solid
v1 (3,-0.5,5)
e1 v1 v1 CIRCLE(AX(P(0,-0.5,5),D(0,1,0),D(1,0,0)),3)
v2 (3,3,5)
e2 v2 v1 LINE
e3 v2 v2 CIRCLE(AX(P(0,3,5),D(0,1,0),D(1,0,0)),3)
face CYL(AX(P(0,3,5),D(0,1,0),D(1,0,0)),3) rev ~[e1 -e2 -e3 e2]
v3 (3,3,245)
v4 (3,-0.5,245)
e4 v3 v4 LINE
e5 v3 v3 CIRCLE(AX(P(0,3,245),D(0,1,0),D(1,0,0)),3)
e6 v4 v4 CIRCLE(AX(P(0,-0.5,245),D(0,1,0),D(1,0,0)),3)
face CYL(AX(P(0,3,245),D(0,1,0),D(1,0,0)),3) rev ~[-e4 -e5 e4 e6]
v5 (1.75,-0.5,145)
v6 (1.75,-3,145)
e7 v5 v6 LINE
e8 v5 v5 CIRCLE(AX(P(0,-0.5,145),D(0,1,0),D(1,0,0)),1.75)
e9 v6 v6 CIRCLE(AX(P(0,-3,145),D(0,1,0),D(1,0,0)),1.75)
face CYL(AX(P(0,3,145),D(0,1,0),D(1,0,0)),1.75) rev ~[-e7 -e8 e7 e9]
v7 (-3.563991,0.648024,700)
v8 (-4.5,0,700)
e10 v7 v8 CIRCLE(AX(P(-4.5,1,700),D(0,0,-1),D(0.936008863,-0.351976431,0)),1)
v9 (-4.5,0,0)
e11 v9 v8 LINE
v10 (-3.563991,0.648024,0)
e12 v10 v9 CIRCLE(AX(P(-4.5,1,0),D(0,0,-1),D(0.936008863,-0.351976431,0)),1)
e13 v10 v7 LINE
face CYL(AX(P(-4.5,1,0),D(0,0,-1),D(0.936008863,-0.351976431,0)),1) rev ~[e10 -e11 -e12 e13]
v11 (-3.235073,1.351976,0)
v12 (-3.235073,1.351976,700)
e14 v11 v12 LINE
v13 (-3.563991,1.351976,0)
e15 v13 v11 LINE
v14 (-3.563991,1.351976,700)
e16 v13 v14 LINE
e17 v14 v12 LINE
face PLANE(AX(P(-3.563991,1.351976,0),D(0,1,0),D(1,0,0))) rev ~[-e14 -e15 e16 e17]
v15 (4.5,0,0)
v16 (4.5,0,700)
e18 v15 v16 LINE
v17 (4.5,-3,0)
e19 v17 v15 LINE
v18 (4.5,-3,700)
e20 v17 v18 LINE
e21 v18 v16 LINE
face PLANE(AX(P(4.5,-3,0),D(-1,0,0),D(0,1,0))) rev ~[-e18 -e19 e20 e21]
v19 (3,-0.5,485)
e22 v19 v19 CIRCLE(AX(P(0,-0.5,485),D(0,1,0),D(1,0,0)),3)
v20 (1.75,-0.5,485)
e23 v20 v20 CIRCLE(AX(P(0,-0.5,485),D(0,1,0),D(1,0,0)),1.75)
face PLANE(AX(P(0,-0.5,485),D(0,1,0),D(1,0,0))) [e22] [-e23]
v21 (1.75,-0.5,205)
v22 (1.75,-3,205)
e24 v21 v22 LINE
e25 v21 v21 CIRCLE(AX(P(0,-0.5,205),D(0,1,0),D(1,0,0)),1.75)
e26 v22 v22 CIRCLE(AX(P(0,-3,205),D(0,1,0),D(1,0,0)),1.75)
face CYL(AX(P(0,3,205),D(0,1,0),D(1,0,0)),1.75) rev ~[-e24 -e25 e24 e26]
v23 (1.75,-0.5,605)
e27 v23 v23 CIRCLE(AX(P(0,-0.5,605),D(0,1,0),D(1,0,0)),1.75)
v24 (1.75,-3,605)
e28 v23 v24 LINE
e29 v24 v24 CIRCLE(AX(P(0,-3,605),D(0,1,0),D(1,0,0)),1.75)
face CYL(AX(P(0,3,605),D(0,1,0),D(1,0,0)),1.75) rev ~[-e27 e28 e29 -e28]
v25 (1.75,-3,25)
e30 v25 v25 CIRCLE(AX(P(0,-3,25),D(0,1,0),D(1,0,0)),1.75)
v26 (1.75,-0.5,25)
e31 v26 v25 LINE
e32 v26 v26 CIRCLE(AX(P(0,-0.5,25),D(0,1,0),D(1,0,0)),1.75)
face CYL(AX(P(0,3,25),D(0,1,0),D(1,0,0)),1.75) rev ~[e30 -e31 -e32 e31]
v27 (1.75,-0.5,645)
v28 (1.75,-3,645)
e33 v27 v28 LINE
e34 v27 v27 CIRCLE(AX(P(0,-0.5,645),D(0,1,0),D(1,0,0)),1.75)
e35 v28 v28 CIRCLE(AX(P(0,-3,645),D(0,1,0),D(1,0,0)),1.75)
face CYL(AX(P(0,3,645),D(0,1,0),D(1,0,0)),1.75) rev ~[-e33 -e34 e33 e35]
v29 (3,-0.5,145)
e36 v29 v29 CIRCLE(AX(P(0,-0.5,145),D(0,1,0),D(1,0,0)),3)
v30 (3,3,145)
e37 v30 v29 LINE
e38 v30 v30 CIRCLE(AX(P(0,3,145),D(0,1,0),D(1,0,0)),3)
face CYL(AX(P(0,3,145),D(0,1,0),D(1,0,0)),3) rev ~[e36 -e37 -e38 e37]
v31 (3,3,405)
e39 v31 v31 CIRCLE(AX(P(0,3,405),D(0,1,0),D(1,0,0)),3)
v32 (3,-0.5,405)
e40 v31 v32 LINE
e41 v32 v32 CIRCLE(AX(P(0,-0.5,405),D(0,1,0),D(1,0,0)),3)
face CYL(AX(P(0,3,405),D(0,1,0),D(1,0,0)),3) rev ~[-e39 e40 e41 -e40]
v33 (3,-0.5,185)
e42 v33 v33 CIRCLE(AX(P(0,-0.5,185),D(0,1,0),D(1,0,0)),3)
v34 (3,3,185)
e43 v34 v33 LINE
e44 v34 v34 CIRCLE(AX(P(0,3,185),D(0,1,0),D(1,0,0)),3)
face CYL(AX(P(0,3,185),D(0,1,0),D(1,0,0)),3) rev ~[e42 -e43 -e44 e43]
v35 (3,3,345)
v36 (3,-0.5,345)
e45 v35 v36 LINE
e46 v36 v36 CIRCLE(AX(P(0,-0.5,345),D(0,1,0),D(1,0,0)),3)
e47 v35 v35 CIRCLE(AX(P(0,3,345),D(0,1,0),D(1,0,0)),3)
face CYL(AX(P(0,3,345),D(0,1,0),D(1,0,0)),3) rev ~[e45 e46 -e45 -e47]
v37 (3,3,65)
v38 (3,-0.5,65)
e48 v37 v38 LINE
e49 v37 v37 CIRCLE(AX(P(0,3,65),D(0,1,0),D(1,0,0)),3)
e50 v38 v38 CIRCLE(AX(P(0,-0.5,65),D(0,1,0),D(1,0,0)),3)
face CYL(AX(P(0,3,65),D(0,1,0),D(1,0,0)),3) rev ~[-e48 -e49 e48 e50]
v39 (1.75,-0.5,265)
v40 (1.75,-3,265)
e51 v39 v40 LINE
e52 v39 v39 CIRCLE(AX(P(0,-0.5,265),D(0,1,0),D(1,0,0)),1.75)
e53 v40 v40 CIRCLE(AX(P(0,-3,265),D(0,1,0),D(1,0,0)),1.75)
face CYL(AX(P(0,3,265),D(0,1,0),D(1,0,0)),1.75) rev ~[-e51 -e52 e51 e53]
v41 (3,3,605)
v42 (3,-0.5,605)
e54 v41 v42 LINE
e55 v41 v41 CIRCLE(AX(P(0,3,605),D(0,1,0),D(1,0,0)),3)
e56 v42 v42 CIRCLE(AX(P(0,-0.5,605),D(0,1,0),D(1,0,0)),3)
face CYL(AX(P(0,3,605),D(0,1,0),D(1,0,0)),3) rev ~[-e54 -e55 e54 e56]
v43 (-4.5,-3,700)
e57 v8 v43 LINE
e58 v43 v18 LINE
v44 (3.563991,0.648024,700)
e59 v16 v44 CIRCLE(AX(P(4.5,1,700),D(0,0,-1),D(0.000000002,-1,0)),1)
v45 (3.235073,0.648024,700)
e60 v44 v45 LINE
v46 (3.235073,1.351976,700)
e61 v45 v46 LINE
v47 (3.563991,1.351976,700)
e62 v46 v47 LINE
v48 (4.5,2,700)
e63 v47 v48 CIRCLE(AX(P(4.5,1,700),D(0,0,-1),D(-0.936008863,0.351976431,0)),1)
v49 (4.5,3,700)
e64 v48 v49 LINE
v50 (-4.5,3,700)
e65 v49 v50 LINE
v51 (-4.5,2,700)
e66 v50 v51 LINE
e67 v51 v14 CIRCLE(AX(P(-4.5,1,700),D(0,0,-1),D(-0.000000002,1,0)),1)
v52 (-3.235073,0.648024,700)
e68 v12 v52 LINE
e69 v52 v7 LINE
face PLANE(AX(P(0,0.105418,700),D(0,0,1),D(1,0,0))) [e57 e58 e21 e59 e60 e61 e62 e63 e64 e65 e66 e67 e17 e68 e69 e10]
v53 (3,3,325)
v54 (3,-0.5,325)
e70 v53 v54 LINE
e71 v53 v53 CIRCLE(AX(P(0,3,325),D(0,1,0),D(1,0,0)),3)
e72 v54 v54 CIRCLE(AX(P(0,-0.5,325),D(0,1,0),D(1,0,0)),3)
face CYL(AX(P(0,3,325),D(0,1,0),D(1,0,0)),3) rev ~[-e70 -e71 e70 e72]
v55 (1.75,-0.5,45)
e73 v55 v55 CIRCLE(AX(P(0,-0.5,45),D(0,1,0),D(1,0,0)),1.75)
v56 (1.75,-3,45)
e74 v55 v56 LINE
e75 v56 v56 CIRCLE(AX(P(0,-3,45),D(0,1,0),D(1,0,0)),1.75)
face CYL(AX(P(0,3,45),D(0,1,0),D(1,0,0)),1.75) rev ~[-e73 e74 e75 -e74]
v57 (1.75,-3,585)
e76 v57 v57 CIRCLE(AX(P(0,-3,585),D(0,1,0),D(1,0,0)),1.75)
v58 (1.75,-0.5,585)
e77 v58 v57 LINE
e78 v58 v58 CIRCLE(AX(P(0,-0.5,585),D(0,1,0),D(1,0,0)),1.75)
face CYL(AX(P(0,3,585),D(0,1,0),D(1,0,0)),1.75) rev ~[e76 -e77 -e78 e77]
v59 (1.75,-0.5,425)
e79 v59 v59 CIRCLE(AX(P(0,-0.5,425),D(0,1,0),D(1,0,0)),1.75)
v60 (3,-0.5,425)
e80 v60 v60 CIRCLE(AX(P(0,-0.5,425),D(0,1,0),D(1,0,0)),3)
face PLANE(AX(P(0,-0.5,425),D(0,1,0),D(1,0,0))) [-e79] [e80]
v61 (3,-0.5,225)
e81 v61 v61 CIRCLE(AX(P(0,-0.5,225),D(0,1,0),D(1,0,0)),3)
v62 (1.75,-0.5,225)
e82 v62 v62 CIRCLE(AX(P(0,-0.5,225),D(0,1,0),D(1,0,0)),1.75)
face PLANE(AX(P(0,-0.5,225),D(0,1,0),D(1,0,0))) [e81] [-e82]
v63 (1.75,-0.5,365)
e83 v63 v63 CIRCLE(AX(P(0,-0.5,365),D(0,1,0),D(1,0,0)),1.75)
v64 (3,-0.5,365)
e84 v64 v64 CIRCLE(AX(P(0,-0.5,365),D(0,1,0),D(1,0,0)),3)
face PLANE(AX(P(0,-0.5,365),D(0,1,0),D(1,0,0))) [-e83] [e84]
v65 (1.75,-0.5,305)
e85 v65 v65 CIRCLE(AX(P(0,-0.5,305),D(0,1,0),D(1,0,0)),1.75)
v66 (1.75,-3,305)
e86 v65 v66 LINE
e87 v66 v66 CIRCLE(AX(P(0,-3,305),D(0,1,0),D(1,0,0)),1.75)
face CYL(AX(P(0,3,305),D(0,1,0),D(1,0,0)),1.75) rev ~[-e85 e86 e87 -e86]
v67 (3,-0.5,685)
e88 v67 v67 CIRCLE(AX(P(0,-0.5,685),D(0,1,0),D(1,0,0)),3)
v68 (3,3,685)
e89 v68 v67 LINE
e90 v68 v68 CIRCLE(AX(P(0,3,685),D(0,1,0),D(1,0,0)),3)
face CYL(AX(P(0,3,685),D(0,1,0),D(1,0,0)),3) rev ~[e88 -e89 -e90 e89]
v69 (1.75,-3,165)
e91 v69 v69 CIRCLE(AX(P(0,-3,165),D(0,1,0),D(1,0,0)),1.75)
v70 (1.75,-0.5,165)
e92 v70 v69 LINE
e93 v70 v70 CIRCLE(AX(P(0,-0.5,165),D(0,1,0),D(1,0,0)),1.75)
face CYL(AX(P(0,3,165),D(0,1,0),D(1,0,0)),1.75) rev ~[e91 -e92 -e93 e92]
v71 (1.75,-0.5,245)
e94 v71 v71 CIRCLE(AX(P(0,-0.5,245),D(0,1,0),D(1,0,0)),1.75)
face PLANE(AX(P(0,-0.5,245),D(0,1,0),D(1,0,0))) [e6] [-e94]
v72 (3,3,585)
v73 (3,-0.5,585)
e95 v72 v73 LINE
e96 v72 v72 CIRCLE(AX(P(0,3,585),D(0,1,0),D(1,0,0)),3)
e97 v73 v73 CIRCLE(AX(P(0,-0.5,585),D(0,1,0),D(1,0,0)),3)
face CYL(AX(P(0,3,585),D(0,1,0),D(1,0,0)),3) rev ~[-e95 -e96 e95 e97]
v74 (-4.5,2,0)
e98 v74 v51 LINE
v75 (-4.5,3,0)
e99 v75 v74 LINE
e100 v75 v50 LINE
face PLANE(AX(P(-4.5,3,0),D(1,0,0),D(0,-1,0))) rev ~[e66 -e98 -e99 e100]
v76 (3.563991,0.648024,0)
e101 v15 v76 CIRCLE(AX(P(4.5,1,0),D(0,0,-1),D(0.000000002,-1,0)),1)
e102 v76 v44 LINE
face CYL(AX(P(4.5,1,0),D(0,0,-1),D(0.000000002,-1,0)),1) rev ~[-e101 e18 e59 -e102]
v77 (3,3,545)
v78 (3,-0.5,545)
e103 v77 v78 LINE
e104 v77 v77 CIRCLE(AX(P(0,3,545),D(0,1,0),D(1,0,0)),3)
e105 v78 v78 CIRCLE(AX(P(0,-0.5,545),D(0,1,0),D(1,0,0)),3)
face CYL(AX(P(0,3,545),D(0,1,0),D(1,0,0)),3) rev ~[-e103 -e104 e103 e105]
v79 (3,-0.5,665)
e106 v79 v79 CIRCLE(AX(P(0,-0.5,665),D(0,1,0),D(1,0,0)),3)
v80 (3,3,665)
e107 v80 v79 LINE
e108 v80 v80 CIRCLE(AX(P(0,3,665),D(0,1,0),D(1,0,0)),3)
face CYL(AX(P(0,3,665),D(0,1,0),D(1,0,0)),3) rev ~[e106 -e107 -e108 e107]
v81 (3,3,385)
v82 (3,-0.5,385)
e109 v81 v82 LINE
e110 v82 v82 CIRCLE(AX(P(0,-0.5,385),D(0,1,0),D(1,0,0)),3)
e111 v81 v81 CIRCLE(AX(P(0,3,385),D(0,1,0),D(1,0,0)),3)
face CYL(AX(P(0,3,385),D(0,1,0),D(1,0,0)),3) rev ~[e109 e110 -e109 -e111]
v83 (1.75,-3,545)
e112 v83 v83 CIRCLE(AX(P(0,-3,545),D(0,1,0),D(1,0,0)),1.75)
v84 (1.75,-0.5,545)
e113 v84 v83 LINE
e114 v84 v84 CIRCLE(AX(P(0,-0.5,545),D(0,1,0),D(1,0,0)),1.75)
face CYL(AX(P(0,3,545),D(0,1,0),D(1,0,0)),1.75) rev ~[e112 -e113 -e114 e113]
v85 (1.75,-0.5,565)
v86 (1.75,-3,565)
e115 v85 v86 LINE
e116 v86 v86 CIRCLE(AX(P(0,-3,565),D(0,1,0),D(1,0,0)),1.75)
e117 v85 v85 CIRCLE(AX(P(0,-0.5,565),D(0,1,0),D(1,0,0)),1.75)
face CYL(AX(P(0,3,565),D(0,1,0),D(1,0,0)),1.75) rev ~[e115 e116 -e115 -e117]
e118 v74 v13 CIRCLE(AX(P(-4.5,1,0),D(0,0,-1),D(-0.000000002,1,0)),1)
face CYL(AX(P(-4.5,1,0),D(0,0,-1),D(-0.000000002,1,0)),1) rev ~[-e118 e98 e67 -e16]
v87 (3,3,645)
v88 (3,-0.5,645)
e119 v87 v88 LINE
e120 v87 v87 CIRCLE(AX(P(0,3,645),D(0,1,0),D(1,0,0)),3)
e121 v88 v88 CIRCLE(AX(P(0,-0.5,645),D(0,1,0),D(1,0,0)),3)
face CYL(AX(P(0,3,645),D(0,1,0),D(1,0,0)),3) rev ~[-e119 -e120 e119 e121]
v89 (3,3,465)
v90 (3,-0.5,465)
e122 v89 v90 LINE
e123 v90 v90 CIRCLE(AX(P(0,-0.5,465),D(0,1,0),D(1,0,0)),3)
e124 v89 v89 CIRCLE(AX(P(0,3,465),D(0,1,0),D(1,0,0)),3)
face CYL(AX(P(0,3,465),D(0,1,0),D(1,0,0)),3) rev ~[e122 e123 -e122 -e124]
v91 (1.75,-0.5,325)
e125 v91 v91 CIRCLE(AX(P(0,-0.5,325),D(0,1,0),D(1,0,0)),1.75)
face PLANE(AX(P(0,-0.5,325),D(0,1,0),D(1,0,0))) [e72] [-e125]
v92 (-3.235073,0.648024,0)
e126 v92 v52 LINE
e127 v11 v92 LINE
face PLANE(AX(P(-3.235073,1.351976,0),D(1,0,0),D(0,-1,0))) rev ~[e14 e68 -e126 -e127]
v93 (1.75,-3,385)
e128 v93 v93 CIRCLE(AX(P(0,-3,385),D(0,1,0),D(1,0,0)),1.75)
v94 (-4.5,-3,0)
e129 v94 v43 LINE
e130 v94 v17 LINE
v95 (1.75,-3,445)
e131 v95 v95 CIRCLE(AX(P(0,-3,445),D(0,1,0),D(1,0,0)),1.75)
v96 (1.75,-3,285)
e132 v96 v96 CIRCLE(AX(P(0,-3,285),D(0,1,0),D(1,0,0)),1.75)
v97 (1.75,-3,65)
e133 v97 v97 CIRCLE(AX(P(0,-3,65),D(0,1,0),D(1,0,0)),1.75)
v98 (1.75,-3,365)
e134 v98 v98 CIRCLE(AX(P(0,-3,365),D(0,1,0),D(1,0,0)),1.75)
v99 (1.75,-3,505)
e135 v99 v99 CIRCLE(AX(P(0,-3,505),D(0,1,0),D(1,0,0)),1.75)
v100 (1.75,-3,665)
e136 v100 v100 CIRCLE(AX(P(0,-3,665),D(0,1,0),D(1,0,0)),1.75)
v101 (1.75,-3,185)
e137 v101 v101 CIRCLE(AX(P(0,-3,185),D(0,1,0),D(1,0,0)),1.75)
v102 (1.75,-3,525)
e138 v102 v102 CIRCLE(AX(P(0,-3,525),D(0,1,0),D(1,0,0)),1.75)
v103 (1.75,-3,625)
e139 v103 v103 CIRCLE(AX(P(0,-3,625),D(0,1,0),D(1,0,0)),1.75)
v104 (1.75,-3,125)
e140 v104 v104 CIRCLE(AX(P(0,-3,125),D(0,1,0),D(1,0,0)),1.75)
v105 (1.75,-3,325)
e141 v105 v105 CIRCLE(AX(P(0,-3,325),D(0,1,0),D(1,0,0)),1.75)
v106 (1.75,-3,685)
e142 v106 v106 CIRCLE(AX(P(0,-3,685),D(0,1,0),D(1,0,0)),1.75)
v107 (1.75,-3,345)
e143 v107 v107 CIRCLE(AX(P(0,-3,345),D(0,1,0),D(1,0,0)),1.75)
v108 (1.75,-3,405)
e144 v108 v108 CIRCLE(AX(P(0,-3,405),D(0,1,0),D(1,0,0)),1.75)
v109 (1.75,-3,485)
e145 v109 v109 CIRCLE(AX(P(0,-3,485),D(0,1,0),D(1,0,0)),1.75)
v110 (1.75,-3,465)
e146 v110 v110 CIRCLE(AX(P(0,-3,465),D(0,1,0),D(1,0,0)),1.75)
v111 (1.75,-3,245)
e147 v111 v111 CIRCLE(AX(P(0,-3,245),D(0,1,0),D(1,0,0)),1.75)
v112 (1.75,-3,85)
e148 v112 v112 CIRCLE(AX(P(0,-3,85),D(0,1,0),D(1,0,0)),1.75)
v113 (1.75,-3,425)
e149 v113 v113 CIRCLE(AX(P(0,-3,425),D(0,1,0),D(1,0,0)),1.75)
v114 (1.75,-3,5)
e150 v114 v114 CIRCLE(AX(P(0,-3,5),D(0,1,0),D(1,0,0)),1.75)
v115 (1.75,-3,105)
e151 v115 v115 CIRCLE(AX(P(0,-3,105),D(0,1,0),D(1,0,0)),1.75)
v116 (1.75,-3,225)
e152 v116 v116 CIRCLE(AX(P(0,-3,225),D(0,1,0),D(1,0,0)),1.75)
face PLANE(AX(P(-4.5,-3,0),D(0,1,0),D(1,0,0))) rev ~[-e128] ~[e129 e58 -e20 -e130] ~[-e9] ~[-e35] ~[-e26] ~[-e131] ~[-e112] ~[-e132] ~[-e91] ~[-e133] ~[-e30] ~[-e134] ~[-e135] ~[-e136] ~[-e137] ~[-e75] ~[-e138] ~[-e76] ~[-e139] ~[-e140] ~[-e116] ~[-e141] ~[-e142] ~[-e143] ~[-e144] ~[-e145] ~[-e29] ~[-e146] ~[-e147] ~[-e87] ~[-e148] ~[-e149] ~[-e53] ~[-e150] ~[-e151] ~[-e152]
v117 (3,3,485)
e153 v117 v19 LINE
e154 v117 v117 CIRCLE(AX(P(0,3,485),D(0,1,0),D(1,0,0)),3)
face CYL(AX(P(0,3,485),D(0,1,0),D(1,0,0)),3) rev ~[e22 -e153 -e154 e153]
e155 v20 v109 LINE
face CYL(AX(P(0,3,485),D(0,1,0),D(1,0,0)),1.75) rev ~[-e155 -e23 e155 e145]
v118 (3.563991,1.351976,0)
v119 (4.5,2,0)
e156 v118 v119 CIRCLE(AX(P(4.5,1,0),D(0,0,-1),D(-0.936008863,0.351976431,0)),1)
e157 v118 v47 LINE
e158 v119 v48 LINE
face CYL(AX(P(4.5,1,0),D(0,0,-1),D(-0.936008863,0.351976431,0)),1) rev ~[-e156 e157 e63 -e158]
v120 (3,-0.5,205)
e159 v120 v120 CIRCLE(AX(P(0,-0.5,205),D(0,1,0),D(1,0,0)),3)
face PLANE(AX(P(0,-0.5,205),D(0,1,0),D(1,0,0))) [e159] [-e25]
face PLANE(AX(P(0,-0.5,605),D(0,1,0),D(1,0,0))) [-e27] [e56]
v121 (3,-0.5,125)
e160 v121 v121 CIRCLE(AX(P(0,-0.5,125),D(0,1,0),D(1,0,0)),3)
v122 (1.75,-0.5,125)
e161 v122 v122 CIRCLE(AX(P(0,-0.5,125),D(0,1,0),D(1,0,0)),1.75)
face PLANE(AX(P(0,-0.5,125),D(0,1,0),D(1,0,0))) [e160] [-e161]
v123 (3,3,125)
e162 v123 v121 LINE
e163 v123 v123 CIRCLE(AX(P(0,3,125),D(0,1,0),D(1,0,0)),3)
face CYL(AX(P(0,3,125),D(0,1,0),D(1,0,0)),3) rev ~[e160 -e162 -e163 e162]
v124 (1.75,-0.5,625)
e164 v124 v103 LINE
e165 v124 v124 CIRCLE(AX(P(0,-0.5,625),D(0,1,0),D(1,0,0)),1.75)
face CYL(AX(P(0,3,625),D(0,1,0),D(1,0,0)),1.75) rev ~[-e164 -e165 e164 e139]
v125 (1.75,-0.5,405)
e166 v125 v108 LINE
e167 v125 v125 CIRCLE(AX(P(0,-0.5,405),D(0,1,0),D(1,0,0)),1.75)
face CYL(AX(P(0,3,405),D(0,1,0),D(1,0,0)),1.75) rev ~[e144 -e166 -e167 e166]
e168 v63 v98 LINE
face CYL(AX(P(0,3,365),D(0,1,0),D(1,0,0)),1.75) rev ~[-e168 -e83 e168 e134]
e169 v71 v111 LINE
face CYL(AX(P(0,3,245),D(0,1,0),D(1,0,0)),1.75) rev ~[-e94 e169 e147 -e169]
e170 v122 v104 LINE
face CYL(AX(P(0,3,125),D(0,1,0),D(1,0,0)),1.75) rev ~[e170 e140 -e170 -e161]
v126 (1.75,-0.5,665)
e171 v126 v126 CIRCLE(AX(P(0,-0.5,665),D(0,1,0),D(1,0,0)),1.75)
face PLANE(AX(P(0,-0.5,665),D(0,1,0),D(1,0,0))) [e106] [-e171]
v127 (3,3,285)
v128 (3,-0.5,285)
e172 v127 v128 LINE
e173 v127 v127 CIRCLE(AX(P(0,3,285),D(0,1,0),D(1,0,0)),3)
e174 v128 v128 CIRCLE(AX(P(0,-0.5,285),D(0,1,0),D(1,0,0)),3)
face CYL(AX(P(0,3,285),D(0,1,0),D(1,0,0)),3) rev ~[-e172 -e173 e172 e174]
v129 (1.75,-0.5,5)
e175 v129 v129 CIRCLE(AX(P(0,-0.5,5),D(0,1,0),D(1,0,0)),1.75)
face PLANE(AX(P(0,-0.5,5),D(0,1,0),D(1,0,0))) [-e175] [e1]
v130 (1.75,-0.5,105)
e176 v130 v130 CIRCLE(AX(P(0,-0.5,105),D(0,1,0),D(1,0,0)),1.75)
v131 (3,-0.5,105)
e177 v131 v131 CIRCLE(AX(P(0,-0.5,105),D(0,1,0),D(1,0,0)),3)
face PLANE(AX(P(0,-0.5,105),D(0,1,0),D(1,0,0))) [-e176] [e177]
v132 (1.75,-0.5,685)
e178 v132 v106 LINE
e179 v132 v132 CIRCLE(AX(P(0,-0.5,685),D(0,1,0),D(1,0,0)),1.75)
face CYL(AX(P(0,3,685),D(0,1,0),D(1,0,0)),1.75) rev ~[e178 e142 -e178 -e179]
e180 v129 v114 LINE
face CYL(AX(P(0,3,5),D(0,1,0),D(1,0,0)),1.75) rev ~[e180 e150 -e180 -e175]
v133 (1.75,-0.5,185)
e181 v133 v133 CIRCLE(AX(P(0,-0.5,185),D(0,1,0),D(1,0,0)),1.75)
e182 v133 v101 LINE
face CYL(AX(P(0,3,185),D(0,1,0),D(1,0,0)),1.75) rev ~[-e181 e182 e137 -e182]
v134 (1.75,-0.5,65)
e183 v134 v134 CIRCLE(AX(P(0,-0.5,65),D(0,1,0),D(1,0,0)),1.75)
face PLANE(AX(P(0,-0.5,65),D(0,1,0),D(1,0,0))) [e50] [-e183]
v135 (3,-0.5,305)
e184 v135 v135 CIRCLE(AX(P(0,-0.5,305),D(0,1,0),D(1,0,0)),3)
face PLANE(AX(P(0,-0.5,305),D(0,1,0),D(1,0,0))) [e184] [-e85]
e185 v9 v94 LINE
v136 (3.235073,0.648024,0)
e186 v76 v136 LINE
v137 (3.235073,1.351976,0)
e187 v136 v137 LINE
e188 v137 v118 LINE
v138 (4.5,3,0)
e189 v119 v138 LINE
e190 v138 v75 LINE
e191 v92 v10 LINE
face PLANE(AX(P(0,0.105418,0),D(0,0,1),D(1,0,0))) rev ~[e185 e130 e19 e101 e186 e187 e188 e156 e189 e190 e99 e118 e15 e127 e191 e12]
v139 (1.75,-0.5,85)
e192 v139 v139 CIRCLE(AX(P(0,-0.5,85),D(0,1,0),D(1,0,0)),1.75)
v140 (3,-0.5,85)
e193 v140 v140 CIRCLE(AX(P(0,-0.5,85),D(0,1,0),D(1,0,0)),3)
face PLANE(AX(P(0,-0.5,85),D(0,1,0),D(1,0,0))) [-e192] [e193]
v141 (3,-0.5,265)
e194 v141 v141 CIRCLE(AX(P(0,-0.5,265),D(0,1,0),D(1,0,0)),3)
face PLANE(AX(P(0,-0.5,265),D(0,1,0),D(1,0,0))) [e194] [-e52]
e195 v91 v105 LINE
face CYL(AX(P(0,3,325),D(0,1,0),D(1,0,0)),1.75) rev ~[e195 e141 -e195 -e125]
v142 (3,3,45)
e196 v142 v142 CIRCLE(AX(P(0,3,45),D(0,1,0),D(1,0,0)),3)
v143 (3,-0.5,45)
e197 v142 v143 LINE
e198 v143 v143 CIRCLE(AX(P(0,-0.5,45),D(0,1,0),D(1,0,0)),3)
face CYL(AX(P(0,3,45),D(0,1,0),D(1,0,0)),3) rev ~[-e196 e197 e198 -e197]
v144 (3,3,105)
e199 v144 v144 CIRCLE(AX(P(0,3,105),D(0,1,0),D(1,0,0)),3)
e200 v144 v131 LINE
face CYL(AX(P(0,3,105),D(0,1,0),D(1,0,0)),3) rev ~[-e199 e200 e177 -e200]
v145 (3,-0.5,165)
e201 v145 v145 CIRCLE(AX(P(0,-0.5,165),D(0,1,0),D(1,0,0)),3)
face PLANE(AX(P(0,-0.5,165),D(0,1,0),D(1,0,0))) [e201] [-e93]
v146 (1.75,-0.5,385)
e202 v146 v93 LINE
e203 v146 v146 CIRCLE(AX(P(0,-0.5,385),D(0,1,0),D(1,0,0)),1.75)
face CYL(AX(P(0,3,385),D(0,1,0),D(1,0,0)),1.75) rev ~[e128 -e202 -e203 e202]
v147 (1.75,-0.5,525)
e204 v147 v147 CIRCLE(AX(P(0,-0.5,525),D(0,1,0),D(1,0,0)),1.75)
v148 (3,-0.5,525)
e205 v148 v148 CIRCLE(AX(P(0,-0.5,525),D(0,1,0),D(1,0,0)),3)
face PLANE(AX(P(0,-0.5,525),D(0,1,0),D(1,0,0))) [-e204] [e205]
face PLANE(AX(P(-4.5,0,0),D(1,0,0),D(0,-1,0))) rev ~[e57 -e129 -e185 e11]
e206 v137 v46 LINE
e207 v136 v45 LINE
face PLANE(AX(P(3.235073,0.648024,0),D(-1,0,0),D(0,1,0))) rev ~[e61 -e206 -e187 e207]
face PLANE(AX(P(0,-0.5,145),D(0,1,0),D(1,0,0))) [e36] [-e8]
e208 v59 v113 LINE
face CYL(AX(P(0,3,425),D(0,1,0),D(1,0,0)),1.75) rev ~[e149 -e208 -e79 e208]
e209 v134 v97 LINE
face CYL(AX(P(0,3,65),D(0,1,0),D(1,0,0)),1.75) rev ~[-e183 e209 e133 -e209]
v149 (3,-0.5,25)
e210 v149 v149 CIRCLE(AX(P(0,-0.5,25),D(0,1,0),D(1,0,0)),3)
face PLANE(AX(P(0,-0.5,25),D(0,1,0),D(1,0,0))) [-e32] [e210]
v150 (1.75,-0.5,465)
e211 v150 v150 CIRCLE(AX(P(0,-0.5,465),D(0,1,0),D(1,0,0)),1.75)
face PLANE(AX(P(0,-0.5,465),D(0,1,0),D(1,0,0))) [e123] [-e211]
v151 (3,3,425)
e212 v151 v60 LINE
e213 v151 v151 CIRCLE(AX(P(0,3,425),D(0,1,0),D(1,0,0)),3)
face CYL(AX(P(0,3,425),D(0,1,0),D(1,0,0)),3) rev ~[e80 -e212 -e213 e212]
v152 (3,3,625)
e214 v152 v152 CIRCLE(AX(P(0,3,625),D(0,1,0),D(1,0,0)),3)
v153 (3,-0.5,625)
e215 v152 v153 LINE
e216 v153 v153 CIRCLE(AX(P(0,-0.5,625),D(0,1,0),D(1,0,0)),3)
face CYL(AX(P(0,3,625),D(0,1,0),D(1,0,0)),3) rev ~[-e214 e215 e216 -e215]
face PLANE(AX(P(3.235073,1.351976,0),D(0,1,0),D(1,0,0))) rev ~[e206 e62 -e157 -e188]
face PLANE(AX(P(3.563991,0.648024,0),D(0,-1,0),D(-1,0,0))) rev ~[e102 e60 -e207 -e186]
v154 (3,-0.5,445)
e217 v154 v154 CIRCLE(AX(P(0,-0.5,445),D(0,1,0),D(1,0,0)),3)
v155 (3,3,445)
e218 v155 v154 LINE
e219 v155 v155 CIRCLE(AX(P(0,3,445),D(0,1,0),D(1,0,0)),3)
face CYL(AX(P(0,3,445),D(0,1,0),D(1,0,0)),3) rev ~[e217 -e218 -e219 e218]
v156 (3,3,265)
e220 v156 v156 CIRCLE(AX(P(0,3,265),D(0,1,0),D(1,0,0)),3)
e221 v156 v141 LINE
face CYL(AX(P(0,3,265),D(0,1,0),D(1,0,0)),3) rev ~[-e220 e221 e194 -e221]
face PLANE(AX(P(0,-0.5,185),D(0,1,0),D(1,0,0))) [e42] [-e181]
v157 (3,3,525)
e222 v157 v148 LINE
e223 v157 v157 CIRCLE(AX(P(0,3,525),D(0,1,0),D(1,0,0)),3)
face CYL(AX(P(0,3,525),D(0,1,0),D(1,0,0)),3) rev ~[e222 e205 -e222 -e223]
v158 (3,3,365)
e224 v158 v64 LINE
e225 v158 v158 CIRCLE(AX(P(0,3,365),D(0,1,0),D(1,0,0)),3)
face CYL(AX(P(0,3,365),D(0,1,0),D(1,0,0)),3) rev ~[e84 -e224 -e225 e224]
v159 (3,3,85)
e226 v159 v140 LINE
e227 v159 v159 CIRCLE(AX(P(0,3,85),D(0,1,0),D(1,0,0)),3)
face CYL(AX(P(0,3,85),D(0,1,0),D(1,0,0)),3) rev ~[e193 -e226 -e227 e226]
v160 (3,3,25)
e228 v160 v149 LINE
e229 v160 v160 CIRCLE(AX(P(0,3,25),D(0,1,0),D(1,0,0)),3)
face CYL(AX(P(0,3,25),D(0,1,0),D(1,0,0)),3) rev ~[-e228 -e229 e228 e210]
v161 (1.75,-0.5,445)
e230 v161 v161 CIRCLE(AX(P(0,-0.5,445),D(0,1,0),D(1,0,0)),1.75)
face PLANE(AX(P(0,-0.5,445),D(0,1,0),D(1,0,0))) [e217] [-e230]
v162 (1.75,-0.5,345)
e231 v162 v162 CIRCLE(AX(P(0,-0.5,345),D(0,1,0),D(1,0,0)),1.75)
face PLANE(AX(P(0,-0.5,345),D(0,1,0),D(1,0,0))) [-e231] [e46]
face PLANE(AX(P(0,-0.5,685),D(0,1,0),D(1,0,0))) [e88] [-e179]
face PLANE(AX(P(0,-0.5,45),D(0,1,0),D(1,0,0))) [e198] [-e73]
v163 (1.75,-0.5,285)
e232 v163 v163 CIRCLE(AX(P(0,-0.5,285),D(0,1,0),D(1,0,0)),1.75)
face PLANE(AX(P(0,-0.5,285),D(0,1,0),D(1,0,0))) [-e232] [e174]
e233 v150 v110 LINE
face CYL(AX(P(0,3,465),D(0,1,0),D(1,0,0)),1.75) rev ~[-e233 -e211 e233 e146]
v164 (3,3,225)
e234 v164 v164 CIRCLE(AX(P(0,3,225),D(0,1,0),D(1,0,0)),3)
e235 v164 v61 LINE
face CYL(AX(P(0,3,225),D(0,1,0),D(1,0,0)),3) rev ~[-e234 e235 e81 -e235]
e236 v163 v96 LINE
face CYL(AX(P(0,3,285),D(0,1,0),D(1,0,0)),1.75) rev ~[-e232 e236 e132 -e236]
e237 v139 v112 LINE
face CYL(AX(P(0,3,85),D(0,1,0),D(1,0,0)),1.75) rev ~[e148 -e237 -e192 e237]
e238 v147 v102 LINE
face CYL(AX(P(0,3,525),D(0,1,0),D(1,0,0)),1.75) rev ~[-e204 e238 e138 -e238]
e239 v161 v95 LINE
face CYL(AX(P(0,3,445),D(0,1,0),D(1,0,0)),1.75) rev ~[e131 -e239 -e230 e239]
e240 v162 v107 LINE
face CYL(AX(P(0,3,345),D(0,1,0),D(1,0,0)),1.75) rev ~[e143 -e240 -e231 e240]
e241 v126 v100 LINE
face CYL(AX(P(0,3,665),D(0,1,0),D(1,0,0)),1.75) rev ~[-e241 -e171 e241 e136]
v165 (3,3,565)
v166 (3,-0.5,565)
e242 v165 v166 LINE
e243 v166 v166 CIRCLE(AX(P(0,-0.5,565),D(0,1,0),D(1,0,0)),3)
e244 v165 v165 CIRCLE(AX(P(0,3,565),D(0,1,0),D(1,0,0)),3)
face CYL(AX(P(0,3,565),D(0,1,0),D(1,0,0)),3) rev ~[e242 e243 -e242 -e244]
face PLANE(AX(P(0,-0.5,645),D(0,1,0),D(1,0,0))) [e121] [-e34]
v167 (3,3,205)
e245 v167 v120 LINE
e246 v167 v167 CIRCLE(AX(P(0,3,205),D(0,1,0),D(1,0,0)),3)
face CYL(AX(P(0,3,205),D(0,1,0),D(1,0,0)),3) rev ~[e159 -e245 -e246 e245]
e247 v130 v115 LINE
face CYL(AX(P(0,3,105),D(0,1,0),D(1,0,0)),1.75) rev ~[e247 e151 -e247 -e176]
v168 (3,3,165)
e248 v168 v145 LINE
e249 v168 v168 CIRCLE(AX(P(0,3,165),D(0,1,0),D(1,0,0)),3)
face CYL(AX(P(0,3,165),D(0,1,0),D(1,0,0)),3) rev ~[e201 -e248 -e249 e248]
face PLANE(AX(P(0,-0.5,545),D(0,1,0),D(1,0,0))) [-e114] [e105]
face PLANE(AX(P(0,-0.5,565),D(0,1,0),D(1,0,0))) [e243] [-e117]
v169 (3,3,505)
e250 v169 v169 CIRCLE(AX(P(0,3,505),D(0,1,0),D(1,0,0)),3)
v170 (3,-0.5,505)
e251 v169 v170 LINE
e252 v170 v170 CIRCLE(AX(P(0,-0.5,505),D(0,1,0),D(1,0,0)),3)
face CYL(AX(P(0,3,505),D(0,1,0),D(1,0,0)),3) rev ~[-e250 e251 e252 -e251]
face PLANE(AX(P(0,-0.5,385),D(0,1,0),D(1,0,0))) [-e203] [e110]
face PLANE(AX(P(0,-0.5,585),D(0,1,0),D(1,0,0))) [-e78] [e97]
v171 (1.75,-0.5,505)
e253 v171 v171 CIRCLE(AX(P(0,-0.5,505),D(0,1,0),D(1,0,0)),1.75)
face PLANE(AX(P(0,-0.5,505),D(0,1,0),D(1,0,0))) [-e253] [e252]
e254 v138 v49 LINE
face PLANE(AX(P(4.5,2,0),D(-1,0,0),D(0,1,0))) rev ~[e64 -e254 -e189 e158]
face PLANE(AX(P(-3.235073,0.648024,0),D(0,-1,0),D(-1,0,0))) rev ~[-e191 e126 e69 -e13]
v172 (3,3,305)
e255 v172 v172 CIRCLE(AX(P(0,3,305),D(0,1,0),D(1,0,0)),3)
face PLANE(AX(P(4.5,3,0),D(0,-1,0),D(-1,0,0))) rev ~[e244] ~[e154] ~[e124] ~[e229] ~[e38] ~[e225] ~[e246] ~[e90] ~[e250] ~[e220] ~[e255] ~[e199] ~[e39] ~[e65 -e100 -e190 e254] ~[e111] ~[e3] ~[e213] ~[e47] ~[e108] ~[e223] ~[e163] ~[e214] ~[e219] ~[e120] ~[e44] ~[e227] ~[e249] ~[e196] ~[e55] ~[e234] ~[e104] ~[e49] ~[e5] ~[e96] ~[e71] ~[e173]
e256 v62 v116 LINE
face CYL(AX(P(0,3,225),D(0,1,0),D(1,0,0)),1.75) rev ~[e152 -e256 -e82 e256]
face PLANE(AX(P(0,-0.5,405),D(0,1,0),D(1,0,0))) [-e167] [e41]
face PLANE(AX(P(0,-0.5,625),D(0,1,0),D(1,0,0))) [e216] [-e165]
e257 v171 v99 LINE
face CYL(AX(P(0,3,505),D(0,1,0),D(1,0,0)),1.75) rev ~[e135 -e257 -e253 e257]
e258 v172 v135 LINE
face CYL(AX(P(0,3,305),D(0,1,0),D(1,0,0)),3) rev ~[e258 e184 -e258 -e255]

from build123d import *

# Parameters (mm, degrees)
EXTRUDE1_DEPTH  = 700
SKETCH2_R       = 3
EXTRUDE2_DEPTH  = 3.5
SKETCH_R        = 1.75
EXTRUDE3_DEPTH  = 7
LPATTERN1_COUNT = 45
LPATTERN1_PITCH = 20


with BuildPart() as part:
    # Sketch1 → Extrude1 (new body)
    with BuildSketch(Plane.XY):
        with BuildLine():
            Line((-4.5, -3), (4.5, -3))
            Line((4.5, -3), (4.5, 0))
            ThreePointArc((4.5, 0), (3.93077967, 0.177814974), (3.563991137, 0.648023568))
            Line((3.563991137, 0.648023568), (3.235073025, 0.648023568))
            Line((3.235073025, 0.648023568), (3.235073025, 1.351976432))
            Line((3.235073025, 1.351976432), (3.563991137, 1.351976432))
            ThreePointArc((3.563991137, 1.351976432), (3.93077967, 1.822185026), (4.5, 2))
            Line((4.5, 2), (4.5, 3))
            Line((4.5, 3), (-4.5, 3))
            Line((-4.5, 3), (-4.5, 2))
            ThreePointArc((-4.5, 2), (-3.93077967, 1.822185026), (-3.563991137, 1.351976432))
            Line((-3.563991137, 1.351976432), (-3.235073025, 1.351976432))
            Line((-3.235073025, 1.351976432), (-3.235073025, 0.648023568))
            Line((-3.235073025, 0.648023568), (-3.563991137, 0.648023568))
            ThreePointArc((-3.563991137, 0.648023568), (-3.93077967, 0.177814974), (-4.5, 0))
            Line((-4.5, 0), (-4.5, -3))
        make_face()
    extrude(amount=EXTRUDE1_DEPTH)

    # Sketch2 → Extrude2 (cut)
    with BuildSketch(Plane(origin=(0, 3, 0), x_dir=(1, 0, 0), z_dir=(0, 1, 0))):
        with Locations((0, -5)):
            Circle(SKETCH2_R)
    extrude2 = extrude(amount=-EXTRUDE2_DEPTH, mode=Mode.SUBTRACT)

    # Sketch → Extrude3 (cut, through all)
    with BuildSketch(Plane(origin=(0, 3, 0), x_dir=(1, 0, 0), z_dir=(0, 1, 0))):
        with Locations((0, -5)):
            Circle(SKETCH_R)
    extrude3 = extrude(amount=-EXTRUDE3_DEPTH, mode=Mode.SUBTRACT)

    # LPattern1: Extrude2, Extrude3 ×45
    with Locations(*[(0, 0, i * LPATTERN1_PITCH) for i in range(1, LPATTERN1_COUNT)]):
        add(extrude2, mode=Mode.SUBTRACT)
        add(extrude3, mode=Mode.SUBTRACT)


solid = part.part
